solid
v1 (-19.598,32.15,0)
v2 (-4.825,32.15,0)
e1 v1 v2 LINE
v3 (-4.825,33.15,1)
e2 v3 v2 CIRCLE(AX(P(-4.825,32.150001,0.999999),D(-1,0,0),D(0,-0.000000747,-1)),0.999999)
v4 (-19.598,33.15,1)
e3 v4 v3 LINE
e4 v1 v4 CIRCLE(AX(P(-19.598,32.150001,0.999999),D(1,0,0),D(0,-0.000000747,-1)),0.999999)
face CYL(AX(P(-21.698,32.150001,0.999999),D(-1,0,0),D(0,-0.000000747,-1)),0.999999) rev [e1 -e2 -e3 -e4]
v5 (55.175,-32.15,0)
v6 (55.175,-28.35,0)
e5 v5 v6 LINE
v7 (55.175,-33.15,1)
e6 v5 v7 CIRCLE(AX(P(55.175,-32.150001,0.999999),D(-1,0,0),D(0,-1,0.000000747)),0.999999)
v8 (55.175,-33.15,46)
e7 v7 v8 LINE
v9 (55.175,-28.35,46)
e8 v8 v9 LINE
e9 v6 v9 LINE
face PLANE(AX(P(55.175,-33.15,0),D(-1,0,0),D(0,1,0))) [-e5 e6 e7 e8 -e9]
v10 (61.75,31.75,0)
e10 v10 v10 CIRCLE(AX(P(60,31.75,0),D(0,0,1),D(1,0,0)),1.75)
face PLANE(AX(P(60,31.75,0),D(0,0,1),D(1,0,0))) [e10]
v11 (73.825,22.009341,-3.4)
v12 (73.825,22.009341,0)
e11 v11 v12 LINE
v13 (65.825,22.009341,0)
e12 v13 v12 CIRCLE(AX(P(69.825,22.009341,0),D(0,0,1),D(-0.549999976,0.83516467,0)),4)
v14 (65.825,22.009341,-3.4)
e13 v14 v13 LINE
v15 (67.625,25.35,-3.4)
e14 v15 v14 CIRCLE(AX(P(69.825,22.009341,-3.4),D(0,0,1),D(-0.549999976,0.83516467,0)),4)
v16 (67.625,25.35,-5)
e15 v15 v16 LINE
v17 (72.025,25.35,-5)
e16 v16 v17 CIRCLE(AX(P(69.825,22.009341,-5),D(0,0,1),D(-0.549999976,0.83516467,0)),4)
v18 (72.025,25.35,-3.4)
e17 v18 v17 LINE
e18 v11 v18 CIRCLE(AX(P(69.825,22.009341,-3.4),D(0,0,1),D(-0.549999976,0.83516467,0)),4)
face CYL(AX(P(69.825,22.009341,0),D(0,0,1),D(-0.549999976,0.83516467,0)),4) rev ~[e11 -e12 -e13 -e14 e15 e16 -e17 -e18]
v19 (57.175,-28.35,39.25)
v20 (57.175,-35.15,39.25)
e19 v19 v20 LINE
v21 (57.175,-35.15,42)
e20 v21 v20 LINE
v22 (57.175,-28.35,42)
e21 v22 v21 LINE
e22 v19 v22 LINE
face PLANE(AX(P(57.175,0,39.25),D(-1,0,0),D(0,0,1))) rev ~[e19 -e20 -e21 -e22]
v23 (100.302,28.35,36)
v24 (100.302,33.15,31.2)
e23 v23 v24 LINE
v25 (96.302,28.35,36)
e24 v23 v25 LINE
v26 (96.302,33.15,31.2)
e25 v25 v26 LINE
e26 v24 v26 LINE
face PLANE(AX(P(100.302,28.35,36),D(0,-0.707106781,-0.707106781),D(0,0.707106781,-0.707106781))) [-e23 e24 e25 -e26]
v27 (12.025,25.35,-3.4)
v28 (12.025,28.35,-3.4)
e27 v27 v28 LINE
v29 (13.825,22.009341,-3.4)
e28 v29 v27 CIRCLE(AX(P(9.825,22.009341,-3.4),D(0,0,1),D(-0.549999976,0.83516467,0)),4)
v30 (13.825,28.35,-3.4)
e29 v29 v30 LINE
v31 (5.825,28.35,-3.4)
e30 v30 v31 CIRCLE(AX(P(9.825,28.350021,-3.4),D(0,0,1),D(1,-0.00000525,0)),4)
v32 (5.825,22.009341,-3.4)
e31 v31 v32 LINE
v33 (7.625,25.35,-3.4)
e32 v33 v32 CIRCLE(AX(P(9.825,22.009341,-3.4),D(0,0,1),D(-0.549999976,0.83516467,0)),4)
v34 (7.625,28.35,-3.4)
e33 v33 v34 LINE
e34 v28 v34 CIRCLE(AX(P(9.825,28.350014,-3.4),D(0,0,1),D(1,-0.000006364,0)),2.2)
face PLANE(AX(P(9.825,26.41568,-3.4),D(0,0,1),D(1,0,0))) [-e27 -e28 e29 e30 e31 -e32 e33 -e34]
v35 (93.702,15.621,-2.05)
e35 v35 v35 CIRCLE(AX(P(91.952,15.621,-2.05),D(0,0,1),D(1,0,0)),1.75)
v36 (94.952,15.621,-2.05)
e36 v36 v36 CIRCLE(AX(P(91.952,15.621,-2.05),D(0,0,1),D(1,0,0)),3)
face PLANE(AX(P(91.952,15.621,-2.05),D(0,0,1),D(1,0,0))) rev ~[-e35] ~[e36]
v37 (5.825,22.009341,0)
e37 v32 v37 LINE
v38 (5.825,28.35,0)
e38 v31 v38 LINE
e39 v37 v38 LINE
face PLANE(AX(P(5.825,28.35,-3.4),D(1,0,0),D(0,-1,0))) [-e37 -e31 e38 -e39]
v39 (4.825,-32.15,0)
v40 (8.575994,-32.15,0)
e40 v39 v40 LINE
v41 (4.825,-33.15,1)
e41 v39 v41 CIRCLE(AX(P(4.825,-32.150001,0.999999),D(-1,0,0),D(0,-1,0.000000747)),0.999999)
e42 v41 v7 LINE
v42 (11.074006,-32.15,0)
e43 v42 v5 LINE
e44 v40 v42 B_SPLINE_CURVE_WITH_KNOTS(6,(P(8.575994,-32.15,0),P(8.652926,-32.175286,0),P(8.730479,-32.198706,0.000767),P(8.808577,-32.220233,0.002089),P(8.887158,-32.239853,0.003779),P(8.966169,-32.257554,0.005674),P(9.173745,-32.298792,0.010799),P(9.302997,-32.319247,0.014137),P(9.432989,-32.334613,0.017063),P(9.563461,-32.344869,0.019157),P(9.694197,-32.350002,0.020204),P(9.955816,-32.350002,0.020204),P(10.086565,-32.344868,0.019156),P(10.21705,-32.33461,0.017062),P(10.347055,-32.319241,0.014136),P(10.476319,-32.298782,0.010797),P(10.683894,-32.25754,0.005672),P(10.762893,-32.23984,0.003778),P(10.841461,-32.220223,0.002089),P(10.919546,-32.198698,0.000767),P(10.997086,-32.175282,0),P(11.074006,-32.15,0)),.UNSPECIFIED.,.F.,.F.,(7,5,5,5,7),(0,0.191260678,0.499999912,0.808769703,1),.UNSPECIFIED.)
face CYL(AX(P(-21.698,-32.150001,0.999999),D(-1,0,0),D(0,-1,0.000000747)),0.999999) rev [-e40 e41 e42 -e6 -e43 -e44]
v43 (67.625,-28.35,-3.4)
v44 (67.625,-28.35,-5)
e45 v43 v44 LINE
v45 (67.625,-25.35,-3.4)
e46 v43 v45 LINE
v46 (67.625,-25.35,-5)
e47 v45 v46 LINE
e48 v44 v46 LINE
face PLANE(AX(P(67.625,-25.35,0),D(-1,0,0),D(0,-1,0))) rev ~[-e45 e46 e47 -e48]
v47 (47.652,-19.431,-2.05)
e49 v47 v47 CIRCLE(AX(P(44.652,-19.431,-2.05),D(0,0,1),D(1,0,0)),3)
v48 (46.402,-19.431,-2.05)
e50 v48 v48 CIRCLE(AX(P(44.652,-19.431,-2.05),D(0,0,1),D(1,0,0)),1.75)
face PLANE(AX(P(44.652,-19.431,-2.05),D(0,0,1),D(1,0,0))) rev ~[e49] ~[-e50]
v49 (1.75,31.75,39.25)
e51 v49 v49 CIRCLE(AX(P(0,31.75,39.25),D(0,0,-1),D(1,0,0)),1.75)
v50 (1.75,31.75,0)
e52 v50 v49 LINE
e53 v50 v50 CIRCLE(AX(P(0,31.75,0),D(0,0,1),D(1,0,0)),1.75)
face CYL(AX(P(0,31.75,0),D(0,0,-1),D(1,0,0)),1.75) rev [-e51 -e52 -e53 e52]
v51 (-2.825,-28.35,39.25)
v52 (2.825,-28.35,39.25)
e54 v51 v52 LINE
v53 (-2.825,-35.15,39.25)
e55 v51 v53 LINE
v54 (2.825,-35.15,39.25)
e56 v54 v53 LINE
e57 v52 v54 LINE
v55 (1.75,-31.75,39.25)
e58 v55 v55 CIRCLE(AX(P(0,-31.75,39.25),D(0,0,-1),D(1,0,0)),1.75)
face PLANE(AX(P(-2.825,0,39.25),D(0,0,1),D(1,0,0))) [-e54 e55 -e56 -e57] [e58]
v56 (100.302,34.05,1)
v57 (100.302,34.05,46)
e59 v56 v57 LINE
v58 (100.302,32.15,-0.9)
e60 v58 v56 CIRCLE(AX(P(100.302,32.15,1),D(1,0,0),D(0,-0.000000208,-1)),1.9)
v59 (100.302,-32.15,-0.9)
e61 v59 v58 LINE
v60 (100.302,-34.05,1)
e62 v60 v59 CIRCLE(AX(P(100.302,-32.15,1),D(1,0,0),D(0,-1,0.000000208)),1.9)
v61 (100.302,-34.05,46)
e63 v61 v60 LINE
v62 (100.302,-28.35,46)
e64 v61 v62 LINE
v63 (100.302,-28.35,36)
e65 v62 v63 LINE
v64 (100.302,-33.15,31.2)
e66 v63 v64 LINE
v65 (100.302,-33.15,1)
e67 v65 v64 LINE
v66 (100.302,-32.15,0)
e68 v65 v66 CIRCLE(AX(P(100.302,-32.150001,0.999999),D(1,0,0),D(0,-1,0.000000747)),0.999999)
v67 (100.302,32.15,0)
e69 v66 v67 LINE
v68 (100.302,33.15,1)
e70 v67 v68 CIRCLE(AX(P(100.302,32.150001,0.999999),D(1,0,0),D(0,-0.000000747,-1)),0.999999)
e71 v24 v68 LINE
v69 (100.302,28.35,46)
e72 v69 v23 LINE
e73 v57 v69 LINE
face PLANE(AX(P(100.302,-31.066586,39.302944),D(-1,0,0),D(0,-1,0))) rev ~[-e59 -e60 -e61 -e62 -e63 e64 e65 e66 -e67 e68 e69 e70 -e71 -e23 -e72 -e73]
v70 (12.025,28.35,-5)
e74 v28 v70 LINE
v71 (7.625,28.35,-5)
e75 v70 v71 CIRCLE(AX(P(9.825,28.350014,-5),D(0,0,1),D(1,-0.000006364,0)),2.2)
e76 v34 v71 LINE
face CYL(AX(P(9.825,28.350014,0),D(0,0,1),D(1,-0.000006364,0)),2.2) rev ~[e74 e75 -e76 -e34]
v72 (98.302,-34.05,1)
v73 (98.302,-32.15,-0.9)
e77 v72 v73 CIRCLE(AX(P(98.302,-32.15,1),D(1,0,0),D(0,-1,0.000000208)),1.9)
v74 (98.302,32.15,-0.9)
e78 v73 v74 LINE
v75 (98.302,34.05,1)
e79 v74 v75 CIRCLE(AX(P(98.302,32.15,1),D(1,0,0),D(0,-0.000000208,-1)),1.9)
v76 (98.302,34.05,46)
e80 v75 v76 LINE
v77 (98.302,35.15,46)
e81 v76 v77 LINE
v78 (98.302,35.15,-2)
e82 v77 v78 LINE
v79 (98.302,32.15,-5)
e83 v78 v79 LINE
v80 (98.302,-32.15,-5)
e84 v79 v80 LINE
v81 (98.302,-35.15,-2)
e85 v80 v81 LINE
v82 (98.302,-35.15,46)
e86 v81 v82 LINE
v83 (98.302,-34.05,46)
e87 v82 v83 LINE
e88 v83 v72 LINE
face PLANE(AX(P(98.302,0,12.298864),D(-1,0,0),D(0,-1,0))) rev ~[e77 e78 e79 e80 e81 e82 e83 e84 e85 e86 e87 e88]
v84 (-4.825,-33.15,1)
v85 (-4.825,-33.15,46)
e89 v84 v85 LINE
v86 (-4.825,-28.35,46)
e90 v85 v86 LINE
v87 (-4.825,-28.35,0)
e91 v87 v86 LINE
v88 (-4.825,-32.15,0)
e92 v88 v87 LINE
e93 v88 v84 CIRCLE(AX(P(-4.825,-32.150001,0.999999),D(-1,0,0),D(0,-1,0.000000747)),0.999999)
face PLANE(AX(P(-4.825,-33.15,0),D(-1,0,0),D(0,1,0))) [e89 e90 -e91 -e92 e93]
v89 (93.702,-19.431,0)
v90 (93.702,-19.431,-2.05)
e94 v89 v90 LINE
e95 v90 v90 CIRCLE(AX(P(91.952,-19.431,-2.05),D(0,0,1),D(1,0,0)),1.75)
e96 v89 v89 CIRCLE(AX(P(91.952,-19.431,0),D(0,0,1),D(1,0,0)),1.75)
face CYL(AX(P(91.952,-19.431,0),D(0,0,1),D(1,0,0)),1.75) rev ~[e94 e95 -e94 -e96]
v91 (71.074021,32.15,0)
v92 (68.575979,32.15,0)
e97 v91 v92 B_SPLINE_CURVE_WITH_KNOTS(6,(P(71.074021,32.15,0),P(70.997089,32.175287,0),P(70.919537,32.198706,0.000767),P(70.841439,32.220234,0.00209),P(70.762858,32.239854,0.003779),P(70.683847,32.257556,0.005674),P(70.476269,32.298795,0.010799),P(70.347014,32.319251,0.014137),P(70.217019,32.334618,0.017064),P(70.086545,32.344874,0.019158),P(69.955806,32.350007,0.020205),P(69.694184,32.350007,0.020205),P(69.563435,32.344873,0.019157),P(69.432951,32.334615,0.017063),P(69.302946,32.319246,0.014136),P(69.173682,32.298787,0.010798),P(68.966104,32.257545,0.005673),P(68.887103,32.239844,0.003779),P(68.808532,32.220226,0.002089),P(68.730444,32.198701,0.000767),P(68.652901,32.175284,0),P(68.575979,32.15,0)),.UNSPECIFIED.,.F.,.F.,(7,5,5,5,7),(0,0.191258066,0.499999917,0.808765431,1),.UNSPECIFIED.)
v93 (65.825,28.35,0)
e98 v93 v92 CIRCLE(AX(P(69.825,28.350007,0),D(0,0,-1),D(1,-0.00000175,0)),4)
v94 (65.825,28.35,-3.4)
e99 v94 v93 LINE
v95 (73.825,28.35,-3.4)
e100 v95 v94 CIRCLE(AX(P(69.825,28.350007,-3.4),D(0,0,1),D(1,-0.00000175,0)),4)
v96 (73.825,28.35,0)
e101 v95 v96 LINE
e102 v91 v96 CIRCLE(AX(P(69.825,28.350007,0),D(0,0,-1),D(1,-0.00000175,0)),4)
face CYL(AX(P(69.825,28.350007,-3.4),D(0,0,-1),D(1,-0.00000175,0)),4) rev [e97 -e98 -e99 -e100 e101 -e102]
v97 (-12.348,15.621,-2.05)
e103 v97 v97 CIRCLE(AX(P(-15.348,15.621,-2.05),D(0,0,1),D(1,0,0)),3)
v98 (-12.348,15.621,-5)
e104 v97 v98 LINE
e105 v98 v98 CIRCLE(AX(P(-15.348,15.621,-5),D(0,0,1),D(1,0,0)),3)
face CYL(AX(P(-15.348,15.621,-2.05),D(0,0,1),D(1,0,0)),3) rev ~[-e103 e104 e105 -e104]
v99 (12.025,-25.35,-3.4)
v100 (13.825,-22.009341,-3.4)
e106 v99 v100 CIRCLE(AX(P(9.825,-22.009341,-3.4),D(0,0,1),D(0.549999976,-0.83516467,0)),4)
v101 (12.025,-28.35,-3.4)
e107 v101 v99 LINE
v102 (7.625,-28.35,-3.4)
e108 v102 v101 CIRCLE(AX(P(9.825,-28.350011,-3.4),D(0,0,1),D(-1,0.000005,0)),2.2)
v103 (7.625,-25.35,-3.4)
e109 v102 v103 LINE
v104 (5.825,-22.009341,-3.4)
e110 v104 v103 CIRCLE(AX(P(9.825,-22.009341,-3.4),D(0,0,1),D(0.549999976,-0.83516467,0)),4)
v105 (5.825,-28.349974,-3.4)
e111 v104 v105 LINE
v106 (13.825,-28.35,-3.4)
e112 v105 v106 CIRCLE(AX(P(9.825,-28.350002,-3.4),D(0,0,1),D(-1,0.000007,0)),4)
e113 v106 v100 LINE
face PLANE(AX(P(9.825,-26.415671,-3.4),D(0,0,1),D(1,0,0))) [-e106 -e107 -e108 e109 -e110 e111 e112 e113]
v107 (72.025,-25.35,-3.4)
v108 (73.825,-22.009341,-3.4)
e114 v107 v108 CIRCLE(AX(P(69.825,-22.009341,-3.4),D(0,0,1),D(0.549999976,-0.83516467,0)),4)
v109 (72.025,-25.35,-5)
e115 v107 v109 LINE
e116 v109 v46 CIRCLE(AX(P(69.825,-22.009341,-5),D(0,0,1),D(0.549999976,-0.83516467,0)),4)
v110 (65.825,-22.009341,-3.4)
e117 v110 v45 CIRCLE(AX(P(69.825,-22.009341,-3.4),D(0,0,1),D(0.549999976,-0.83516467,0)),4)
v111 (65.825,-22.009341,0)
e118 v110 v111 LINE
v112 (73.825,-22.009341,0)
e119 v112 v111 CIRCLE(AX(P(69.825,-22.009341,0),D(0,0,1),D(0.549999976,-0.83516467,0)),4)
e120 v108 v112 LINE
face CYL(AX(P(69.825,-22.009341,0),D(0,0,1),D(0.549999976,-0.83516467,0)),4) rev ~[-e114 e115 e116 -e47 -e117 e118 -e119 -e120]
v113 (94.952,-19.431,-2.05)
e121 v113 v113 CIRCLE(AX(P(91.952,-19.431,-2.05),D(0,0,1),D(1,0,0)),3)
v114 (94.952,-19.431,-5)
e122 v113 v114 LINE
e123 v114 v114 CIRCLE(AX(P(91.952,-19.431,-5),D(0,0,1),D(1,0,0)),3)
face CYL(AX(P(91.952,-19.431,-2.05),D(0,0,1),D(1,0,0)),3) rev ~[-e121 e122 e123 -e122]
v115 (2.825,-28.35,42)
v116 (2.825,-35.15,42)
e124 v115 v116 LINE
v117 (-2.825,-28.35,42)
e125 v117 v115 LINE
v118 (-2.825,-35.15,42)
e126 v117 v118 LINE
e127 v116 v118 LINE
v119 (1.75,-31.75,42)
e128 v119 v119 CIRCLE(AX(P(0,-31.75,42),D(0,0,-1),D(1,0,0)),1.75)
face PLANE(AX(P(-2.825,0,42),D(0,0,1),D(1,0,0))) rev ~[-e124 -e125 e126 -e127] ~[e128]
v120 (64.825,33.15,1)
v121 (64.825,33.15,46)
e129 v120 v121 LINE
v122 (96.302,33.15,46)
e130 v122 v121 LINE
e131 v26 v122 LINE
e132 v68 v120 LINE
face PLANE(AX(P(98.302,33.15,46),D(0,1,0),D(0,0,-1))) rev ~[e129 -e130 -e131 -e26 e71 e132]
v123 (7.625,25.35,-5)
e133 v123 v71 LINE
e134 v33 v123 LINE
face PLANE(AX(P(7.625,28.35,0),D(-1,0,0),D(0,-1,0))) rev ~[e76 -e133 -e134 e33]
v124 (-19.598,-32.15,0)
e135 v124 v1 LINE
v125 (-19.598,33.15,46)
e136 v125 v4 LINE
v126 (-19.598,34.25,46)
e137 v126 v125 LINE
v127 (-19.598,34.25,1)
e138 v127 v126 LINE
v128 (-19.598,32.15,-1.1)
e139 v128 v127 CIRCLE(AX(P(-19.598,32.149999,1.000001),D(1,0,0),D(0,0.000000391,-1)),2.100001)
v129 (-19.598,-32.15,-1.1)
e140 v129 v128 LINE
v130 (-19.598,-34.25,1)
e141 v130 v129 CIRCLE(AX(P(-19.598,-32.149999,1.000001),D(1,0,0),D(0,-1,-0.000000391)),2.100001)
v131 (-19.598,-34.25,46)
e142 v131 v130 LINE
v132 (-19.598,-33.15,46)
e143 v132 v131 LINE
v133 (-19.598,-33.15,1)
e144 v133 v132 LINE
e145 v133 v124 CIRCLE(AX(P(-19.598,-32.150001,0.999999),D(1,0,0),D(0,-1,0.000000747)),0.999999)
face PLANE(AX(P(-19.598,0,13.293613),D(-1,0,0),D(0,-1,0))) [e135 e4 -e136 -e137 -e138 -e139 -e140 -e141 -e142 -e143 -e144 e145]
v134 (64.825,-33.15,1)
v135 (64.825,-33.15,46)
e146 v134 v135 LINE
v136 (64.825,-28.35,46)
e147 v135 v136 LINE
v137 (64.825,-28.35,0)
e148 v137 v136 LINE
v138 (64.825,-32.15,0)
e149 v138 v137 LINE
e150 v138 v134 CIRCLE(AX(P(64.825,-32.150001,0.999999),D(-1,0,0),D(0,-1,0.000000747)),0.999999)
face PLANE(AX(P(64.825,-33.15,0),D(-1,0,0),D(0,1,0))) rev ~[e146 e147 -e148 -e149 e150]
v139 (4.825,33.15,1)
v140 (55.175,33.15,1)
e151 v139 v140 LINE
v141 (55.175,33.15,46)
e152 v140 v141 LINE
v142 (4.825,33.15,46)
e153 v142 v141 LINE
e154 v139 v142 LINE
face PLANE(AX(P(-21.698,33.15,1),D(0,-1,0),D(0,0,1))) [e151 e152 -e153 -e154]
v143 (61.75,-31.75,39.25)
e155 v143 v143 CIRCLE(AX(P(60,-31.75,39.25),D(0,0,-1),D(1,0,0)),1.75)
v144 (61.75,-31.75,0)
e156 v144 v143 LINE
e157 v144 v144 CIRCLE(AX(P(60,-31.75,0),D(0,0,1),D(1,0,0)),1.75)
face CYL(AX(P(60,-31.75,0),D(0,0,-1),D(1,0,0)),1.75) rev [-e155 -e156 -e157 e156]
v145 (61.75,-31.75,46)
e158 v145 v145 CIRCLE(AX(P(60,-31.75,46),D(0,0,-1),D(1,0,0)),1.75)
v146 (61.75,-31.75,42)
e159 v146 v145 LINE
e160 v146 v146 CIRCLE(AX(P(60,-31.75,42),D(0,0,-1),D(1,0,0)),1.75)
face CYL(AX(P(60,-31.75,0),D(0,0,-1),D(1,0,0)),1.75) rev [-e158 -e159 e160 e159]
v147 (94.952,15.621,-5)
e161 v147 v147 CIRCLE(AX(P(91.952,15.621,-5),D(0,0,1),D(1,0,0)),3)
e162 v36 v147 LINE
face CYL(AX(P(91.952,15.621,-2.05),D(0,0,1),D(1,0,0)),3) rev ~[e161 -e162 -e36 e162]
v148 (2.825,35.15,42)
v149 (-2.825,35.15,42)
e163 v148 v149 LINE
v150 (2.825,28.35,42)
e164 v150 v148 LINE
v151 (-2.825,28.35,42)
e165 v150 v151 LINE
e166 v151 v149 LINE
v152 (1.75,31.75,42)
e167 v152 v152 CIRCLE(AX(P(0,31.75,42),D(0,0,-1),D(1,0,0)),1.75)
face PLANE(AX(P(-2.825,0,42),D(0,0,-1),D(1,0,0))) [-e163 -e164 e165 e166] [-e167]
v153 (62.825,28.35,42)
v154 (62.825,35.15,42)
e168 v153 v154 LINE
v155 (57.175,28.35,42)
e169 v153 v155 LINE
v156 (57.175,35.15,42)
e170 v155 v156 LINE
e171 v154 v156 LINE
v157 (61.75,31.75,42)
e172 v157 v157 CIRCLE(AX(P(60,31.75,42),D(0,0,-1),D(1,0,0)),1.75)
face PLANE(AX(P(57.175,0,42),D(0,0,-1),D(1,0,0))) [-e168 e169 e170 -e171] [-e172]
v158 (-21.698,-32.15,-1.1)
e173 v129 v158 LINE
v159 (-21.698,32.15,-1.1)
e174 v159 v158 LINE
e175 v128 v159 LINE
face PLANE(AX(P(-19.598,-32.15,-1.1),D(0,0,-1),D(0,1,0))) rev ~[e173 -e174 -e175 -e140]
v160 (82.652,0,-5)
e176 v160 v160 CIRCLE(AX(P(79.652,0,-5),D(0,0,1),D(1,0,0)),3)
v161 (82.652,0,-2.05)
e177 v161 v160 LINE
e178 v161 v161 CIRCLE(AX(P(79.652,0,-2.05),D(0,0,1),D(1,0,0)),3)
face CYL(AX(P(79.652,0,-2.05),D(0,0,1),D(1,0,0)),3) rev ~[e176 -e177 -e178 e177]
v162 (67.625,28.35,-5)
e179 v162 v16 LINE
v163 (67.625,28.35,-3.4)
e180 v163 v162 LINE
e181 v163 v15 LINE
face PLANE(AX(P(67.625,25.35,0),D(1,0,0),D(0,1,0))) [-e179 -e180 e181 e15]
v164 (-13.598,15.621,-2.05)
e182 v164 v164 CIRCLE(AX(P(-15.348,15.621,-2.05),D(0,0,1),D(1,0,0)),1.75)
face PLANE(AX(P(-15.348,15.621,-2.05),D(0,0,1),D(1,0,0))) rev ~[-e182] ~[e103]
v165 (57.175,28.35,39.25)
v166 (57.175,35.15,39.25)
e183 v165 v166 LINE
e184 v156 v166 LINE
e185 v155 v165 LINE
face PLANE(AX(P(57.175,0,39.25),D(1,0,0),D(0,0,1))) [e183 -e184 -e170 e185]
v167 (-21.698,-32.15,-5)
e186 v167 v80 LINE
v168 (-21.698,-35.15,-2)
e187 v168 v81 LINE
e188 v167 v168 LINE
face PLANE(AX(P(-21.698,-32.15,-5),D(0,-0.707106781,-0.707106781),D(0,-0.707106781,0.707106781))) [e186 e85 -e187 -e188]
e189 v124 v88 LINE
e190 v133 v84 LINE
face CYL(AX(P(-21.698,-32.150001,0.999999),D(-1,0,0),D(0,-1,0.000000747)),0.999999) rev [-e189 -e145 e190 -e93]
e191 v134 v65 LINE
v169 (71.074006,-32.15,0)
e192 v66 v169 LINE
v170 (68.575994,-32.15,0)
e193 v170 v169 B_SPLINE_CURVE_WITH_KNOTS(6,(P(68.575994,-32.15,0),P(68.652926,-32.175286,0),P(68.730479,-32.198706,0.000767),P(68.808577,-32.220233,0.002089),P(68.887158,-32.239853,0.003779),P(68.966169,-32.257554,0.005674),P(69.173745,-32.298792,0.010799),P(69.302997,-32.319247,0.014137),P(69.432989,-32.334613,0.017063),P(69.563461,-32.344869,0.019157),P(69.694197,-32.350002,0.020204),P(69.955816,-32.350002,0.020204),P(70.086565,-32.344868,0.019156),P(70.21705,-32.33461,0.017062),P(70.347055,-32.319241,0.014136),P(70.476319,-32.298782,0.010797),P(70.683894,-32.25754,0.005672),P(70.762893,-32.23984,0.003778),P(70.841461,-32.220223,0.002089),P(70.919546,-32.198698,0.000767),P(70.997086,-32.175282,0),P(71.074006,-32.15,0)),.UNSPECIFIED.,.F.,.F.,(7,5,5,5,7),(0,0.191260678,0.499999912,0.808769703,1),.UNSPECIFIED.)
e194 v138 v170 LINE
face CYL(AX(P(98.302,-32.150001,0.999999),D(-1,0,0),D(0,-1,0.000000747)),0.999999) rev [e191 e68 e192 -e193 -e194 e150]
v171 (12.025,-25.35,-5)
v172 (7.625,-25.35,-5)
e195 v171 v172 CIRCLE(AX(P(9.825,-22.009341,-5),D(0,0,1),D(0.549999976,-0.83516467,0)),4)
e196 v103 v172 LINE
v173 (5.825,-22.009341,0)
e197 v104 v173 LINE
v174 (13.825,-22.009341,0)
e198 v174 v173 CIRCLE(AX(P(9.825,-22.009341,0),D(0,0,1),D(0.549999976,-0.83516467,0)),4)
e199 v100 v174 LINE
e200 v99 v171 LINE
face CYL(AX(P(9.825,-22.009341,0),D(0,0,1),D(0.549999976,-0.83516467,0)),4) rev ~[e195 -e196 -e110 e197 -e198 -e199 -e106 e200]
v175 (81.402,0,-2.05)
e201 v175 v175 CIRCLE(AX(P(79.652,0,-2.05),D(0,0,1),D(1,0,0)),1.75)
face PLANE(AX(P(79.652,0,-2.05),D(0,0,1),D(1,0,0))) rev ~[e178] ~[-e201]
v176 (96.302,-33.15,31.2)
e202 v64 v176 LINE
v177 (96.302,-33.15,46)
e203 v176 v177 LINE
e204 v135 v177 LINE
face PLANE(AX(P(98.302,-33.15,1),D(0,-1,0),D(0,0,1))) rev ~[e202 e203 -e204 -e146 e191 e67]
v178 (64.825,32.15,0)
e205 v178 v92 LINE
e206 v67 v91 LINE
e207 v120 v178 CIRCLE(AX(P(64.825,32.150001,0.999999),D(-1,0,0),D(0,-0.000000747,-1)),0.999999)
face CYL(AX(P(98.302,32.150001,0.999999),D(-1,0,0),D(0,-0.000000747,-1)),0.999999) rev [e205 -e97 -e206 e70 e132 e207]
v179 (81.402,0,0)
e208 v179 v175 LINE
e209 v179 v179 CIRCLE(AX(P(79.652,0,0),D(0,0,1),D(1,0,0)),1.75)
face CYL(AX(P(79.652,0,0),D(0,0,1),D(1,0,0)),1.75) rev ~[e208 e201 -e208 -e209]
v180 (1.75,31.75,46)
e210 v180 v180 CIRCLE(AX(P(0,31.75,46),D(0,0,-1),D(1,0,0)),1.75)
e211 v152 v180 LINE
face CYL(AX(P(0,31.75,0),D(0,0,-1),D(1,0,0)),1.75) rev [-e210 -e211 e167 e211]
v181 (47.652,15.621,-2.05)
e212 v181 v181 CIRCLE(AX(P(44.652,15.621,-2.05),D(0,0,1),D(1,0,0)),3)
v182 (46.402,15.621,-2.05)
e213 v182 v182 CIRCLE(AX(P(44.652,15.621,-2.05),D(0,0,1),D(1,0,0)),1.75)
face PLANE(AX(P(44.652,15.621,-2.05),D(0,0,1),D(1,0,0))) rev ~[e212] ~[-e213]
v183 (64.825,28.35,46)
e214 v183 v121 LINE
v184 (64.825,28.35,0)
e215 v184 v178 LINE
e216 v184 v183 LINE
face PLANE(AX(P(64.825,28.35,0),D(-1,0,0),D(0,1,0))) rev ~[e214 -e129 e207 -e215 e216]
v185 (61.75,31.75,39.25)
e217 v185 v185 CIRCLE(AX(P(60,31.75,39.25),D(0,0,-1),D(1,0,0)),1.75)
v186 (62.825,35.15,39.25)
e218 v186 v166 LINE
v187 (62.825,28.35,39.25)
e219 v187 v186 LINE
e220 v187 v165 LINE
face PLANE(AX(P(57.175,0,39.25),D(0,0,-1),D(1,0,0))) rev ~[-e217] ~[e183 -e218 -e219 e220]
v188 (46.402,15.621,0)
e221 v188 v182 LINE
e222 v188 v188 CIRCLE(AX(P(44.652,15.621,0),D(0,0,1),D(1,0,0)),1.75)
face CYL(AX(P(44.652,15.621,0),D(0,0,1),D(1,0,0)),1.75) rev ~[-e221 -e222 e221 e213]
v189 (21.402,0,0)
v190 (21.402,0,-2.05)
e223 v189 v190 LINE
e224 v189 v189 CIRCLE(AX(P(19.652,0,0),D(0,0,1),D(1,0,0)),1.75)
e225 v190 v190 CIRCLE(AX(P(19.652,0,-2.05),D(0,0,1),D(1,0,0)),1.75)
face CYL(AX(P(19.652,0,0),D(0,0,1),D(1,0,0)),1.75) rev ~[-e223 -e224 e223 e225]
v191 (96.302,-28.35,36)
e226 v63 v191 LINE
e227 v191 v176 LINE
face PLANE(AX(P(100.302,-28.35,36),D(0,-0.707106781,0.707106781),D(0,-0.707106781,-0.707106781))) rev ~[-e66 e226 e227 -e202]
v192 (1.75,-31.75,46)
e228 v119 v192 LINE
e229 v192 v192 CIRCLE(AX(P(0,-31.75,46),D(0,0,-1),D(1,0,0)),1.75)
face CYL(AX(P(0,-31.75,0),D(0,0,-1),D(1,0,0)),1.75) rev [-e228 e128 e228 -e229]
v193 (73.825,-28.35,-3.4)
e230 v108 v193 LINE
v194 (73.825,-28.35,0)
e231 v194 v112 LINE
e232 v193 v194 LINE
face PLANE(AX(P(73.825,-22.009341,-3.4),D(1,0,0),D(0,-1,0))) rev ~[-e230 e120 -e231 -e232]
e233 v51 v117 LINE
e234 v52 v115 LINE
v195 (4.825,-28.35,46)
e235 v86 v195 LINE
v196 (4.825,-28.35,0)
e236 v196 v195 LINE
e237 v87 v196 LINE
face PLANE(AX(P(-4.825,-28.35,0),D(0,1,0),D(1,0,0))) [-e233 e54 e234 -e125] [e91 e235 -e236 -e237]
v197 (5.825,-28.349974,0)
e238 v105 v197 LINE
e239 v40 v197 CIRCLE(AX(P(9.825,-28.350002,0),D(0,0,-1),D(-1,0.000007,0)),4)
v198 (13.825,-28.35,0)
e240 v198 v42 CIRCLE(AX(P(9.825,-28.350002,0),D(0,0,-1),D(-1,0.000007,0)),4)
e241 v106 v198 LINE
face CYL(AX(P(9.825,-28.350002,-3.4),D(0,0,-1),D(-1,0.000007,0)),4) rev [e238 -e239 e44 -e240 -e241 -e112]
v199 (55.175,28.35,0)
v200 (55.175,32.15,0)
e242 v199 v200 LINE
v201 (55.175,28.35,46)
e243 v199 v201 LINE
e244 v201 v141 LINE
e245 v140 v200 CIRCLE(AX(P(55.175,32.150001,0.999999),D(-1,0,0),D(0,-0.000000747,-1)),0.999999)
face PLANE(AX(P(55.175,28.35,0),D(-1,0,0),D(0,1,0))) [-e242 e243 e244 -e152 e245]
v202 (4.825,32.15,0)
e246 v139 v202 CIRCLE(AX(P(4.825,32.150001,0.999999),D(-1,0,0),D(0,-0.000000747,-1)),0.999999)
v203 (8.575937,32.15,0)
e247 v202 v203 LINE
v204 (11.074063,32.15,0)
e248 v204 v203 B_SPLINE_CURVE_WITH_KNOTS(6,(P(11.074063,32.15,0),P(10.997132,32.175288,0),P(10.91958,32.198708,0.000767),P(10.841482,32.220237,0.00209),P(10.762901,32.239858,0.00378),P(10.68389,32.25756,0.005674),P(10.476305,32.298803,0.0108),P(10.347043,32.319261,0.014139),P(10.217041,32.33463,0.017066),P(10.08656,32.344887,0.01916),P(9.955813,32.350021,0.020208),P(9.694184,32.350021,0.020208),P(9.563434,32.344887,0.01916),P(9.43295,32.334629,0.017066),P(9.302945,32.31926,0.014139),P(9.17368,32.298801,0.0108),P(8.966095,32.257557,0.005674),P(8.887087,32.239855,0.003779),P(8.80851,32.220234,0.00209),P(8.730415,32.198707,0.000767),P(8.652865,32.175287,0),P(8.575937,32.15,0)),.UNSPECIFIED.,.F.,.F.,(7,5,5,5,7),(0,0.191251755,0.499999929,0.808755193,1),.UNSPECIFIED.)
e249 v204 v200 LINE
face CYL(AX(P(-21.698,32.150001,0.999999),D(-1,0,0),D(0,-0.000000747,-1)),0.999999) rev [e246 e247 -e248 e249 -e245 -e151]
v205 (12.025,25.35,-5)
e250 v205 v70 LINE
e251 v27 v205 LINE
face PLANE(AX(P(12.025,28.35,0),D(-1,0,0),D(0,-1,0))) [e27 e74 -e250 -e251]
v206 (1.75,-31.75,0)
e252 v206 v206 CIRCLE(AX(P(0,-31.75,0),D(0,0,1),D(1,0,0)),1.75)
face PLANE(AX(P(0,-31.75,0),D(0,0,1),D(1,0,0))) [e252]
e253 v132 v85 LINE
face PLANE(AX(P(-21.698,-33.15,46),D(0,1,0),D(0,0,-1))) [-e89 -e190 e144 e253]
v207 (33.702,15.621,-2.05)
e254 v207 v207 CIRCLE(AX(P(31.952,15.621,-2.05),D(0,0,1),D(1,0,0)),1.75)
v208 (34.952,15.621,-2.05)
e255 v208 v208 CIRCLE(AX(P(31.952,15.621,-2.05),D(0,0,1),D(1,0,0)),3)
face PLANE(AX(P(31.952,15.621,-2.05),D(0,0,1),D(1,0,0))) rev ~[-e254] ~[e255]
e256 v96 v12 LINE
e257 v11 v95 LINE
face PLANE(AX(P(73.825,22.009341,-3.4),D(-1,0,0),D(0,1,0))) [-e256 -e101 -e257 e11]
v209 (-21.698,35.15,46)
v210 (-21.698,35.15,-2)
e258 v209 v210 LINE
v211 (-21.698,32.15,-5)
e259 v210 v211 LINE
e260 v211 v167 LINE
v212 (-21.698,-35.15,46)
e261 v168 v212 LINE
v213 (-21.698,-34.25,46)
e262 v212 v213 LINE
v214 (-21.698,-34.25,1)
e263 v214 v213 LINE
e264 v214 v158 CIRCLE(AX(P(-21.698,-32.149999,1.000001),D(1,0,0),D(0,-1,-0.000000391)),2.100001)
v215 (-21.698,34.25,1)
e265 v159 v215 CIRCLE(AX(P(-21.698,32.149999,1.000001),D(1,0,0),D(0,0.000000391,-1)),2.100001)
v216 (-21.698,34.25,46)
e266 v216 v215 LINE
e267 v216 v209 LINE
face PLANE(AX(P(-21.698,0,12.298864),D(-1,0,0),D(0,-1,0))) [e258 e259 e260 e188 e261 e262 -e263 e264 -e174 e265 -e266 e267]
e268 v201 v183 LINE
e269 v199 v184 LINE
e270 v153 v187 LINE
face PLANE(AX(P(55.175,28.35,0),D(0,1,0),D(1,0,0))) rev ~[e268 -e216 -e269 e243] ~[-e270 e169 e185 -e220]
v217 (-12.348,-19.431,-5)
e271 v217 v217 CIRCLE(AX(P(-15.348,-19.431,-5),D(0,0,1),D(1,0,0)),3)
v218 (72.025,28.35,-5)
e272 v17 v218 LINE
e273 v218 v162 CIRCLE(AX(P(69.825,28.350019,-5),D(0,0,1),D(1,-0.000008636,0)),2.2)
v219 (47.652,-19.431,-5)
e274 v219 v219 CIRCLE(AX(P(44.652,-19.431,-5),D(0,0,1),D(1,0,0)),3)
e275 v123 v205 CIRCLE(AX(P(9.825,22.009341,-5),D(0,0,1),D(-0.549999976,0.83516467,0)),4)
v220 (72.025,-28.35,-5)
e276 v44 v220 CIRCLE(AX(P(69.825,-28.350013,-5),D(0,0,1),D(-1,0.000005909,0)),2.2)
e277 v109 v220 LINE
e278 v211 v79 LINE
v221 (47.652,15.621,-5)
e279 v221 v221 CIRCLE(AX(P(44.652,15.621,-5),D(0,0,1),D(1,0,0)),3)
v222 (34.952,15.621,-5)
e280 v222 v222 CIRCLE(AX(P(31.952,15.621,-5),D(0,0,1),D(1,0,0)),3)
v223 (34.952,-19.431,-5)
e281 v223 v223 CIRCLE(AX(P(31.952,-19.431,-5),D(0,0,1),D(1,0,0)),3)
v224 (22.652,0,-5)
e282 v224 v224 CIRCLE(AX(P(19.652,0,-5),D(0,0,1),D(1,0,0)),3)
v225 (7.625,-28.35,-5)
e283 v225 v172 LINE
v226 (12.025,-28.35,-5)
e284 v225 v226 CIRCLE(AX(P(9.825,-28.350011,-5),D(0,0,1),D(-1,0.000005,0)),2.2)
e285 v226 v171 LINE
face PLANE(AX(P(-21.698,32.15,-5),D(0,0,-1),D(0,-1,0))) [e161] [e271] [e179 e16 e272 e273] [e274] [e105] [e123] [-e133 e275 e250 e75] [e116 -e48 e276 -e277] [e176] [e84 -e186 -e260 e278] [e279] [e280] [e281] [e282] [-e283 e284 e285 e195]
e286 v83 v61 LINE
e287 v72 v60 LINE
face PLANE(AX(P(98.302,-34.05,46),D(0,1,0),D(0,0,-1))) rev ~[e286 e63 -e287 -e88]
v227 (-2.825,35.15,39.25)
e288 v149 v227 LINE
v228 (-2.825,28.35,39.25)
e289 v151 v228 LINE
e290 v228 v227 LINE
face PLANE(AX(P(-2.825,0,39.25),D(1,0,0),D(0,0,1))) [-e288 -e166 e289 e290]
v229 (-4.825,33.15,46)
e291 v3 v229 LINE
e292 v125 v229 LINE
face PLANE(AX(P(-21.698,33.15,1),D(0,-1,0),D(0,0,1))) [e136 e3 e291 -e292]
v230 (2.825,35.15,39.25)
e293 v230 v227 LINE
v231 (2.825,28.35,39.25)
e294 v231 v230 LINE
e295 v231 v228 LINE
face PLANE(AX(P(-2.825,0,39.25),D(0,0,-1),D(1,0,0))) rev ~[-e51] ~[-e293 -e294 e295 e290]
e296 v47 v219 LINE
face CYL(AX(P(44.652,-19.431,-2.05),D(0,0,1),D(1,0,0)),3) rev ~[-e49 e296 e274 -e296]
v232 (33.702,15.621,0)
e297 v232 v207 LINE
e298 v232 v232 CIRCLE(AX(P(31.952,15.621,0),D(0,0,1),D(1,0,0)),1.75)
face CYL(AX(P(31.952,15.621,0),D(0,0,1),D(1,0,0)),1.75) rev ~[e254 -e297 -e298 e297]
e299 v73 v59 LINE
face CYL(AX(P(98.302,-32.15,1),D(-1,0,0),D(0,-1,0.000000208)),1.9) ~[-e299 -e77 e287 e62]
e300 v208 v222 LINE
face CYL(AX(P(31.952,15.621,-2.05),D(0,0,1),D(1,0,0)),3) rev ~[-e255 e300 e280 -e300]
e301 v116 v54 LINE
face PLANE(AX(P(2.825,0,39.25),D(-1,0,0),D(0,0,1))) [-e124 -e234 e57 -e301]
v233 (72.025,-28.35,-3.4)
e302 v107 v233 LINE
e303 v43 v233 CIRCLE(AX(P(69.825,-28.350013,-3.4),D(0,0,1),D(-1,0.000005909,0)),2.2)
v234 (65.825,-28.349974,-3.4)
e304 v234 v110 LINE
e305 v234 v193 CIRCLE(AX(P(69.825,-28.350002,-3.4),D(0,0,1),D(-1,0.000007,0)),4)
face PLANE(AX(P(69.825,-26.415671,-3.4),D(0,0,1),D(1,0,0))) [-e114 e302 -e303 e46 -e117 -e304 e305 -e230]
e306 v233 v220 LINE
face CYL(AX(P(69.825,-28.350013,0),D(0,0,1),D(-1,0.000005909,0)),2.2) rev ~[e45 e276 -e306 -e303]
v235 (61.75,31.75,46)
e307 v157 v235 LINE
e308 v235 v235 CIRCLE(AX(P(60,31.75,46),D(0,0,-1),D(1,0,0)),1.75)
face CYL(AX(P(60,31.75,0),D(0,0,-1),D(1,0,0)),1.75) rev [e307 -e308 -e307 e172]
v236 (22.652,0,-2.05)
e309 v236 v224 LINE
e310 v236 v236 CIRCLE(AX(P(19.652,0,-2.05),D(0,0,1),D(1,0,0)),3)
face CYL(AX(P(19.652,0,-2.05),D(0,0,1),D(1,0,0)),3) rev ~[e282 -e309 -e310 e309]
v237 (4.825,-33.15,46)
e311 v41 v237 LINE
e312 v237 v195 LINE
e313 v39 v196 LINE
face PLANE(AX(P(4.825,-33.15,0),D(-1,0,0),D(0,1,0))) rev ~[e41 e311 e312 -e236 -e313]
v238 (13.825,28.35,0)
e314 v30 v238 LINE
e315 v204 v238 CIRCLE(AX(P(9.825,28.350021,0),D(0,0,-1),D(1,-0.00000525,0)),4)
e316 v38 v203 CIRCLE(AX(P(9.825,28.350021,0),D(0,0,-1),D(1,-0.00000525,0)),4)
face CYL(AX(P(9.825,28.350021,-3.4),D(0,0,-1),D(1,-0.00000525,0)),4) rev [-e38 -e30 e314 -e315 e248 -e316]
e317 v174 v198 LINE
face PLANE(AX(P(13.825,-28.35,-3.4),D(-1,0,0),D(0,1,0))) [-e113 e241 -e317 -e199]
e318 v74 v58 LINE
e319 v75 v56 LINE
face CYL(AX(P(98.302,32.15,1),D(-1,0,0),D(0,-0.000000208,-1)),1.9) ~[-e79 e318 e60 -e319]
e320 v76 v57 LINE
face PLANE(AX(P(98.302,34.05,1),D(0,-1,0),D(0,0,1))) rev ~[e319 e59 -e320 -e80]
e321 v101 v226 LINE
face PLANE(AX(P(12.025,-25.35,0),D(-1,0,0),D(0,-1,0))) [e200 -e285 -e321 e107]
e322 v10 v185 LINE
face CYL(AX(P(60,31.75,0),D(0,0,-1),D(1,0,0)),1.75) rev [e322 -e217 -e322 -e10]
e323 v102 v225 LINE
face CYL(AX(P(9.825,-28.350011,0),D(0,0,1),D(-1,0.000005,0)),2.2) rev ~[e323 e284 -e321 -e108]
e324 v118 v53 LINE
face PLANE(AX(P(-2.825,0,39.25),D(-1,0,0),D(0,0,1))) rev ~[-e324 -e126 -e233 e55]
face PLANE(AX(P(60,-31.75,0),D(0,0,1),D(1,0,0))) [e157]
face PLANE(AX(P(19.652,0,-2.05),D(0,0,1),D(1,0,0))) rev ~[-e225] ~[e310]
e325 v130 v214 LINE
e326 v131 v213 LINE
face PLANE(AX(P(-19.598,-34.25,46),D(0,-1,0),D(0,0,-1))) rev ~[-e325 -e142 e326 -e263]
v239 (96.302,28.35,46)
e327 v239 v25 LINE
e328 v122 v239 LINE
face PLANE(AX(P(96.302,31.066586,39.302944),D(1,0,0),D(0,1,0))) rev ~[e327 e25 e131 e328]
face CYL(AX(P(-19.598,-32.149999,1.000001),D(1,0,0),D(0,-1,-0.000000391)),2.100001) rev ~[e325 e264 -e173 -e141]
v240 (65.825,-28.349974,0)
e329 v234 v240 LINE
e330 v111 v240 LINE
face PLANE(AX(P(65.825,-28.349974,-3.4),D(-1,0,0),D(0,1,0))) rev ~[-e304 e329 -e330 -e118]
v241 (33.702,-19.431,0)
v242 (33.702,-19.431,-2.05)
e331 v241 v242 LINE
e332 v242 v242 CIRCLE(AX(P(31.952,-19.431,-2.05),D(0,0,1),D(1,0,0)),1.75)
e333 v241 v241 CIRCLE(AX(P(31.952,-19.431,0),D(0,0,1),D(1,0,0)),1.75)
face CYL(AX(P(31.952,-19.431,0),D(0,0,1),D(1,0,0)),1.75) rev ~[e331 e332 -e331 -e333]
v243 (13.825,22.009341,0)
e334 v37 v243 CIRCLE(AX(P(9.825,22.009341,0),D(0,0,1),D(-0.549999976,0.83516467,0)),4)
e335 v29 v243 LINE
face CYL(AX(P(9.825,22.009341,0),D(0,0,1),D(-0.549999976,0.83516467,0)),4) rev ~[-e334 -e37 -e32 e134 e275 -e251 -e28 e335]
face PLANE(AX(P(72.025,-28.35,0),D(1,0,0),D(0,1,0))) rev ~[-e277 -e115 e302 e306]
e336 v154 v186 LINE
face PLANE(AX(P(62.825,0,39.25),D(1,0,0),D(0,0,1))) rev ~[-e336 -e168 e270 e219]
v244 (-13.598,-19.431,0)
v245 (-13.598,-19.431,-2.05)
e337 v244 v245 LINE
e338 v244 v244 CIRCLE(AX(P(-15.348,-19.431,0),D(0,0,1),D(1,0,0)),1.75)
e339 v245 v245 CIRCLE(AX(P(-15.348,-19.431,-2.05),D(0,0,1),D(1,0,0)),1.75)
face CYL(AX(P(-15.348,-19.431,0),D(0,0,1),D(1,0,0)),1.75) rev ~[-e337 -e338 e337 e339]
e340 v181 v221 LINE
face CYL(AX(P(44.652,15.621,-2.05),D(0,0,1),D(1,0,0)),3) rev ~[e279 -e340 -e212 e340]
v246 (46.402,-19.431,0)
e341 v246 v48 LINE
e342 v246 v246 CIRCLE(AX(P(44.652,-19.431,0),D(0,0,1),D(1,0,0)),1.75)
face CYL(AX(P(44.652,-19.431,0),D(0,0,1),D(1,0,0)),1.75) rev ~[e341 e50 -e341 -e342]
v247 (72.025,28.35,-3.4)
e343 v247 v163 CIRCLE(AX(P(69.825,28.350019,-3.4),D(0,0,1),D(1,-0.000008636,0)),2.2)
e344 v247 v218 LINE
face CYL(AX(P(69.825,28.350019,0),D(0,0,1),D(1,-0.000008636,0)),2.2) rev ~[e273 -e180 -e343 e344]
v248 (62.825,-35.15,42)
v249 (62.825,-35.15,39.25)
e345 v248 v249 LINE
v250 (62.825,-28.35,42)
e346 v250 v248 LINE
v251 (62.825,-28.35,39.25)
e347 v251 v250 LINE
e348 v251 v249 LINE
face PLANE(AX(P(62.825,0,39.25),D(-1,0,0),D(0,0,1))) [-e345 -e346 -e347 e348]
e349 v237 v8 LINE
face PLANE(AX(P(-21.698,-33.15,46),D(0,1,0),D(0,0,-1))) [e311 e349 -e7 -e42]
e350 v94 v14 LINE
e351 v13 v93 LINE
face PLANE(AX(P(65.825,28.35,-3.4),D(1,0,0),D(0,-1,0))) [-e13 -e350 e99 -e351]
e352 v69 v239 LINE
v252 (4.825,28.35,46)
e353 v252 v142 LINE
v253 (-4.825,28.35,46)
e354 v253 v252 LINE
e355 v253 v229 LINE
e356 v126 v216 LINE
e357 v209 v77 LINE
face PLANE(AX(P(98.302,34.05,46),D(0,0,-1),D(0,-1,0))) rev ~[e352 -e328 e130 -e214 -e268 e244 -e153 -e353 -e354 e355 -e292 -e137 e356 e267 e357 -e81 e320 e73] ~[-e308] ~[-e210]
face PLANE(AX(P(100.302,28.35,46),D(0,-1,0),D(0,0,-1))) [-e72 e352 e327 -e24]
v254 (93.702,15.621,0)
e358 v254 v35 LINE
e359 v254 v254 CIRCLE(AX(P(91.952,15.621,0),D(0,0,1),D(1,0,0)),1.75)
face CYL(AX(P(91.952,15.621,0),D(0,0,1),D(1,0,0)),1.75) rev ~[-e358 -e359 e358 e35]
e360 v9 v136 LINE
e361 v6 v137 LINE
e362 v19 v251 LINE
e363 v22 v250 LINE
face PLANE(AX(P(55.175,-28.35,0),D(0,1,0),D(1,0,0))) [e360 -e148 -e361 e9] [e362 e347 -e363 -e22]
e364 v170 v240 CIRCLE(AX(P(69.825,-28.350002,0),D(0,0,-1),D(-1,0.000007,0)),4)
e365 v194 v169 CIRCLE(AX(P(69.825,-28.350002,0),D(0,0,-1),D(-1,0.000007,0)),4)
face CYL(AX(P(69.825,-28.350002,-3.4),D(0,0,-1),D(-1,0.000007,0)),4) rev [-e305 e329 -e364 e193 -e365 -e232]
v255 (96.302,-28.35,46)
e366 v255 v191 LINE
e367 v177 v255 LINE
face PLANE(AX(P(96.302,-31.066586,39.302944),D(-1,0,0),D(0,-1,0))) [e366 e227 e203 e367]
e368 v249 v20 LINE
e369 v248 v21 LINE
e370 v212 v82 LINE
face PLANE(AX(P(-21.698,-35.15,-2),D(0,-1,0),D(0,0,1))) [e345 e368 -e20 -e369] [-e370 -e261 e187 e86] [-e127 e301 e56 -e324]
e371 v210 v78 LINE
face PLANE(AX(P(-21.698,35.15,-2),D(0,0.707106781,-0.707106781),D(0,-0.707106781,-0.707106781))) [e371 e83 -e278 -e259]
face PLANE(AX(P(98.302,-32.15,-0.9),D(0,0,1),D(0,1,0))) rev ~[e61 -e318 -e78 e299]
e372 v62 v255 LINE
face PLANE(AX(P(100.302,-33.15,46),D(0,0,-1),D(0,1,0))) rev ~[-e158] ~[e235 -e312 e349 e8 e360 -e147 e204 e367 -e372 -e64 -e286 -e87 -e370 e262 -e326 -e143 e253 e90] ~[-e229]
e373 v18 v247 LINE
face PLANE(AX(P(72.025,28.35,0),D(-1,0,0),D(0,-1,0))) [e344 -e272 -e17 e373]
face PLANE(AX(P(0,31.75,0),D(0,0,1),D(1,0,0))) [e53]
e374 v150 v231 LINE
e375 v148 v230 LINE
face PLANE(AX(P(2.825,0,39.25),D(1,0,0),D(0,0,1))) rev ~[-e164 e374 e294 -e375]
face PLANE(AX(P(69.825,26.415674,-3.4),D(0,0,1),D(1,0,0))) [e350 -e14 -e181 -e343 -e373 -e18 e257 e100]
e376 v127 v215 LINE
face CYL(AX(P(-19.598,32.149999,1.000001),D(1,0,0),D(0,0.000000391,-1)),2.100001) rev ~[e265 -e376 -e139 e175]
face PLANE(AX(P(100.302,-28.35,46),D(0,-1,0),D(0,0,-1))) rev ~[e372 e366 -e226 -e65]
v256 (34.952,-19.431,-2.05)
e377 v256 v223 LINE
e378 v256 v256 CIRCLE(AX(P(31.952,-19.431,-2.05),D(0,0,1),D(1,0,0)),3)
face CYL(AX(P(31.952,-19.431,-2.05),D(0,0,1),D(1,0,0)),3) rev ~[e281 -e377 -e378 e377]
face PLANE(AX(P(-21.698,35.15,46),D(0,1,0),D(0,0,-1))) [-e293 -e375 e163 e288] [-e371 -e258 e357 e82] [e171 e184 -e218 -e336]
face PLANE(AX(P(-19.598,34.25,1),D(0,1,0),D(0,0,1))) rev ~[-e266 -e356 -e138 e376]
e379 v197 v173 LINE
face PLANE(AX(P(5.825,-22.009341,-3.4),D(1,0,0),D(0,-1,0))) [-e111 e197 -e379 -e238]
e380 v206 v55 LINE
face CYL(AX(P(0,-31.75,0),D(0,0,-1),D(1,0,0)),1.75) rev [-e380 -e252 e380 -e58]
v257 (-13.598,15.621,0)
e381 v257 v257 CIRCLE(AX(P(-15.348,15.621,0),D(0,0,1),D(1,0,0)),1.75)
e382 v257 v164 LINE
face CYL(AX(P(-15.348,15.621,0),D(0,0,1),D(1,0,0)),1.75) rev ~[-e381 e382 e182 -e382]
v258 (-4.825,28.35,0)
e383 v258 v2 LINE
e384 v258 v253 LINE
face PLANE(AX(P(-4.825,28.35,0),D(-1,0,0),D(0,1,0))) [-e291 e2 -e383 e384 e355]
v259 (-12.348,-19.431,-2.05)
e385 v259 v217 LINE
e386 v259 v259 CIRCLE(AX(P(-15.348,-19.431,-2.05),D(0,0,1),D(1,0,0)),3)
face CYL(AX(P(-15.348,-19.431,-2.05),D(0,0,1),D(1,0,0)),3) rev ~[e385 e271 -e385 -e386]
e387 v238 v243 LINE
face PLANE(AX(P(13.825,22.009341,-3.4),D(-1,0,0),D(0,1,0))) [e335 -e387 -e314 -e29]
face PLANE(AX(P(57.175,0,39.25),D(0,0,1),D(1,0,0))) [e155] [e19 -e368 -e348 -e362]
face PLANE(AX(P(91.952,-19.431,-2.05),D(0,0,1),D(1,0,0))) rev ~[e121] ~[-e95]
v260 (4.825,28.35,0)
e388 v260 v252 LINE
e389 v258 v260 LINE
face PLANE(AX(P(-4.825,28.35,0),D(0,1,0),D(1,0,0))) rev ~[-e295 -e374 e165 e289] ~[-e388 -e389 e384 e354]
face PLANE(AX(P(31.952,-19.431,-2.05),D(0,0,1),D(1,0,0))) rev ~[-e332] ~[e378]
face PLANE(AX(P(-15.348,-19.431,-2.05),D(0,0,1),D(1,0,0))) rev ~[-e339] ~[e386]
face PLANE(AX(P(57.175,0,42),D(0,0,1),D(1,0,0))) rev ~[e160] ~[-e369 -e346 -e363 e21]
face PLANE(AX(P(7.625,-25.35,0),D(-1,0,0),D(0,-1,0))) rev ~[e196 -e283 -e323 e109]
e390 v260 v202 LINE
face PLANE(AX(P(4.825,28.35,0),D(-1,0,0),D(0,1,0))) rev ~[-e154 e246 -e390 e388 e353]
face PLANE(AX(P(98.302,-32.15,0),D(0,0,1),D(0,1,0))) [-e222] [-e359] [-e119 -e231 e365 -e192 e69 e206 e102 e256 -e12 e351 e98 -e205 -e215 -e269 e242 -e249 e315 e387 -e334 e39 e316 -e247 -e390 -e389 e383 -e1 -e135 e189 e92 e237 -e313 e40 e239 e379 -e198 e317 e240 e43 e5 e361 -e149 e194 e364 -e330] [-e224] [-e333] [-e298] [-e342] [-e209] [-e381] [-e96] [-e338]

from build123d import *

# Parameters (mm, degrees)
PAD025_DEPTH         = 120
POCKET029_DEPTH      = 2.101
SKETCH085_W          = 9.65
SKETCH085_H          = 4.8
PAD026_DEPTH         = 46
SKETCH086_R          = 1.75
POCKET030_DEPTH      = 46.001
SKETCH087_R          = 1.75
POCKET031_DEPTH      = 5.001
SKETCH088_R          = 3
POCKET032_DEPTH      = 2.951
POCKET043_DEPTH      = 49.401
SKETCH089_W          = 5.65
SKETCH089_H          = 2.75
POCKET033_DEPTH      = 35.151
POCKET033_DEPTH_BACK = 35.151
PAD027_DEPTH         = 2
PAD028_DEPTH         = 4


with BuildPart() as part:
    # Sketch083 → Pad025 (new body)
    with BuildSketch(Plane.YZ.offset(-21.698)):
        with BuildLine():
            ThreePointArc((-33.15, 1), (-32.857107, 0.292893), (-32.15, 0))
            Line((-32.15, 0), (32.15, 0))
            ThreePointArc((32.15, 0), (32.857107, 0.292893), (33.15, 1))
            Line((33.15, 1), (33.15, 46))
            Line((33.15, 46), (35.15, 46))
            Line((35.15, 46), (35.15, -2))
            Line((35.15, -2), (32.15, -5))
            Line((32.15, -5), (-32.15, -5))
            Line((-32.15, -5), (-35.15, -2))
            Line((-35.15, -2), (-35.15, 46))
            Line((-35.15, 46), (-33.15, 46))
            Line((-33.15, 46), (-33.15, 1))
        make_face()
    extrude(amount=PAD025_DEPTH)

    # Sketch084 → Pocket029 (cut, through all)
    with BuildSketch(Plane.YZ.offset(-19.598)):
        with BuildLine():
            ThreePointArc((-33.15, 1), (-32.857107, 0.292893), (-32.15, 0))
            Line((-32.15, 0), (32.15, 0))
            ThreePointArc((32.15, 0), (32.857107, 0.292893), (33.15, 1))
            Line((33.15, 46), (33.15, 1))
            Line((34.25, 46), (33.15, 46))
            Line((34.25, 1), (34.25, 46))
            ThreePointArc((32.15, -1.1), (33.634924, -0.484924), (34.25, 1))
            Line((-32.15, -1.1), (32.15, -1.1))
            ThreePointArc((-34.25, 1), (-33.634924, -0.484924), (-32.15, -1.1))
            Line((-34.25, 46), (-34.25, 1))
            Line((-33.15, 46), (-34.25, 46))
            Line((-33.15, 1), (-33.15, 46))
        make_face()
    extrude(amount=-POCKET029_DEPTH, mode=Mode.SUBTRACT)

    # Sketch085 → Pad026 (join)
    with BuildSketch(Plane.XY):
        with Locations((0, 30.75)):
            Rectangle(SKETCH085_W, SKETCH085_H)
        with Locations((60, 30.75)):
            Rectangle(SKETCH085_W, SKETCH085_H)
        with Locations((60, -30.75)):
            Rectangle(SKETCH085_W, SKETCH085_H)
        with Locations((0, -30.75)):
            Rectangle(SKETCH085_W, SKETCH085_H)
    extrude(amount=PAD026_DEPTH)

    # Sketch086 → Pocket030 (cut, through all)
    with BuildSketch(Plane.XY):
        with Locations((0, 31.75)):
            Circle(SKETCH086_R)
        with Locations((60, 31.75)):
            Circle(SKETCH086_R)
        with Locations((60, -31.75)):
            Circle(SKETCH086_R)
        with Locations((0, -31.75)):
            Circle(SKETCH086_R)
    extrude(amount=POCKET030_DEPTH, mode=Mode.SUBTRACT)

    # Sketch087 → Pocket031 (cut, through all)
    with BuildSketch(Plane.XY):
        with Locations((-15.348, 15.621)):
            Circle(SKETCH087_R)
        with Locations((-15.348, -19.431)):
            Circle(SKETCH087_R)
        with Locations((19.652, 0)):
            Circle(SKETCH087_R)
        with Locations((31.952, 15.621)):
            Circle(SKETCH087_R)
        with Locations((31.952, -19.431)):
            Circle(SKETCH087_R)
        with Locations((44.652, -19.431)):
            Circle(SKETCH087_R)
        with Locations((44.652, 15.621)):
            Circle(SKETCH087_R)
        with Locations((79.652, 0)):
            Circle(SKETCH087_R)
        with Locations((91.952, 15.621)):
            Circle(SKETCH087_R)
        with Locations((91.952, -19.431)):
            Circle(SKETCH087_R)
        with BuildLine():
            ThreePointArc((12.025, 28.35), (9.825, 30.550014), (7.625, 28.35))
            Line((7.625, 28.35), (7.625, 25.35))
            ThreePointArc((7.625, 25.35), (9.825, 18.009341), (12.025, 25.35))
            Line((12.025, 28.35), (12.025, 25.35))
        make_face()
        with BuildLine():
            ThreePointArc((12.025, -25.35), (9.825, -18.009341), (7.625, -25.35))
            Line((7.625, -25.35), (7.625, -28.35))
            ThreePointArc((7.625, -28.35), (9.825, -30.550011), (12.025, -28.35))
            Line((12.025, -25.35), (12.025, -28.35))
        make_face()
        with BuildLine():
            ThreePointArc((72.025, -25.35), (69.825, -18.009341), (67.625, -25.35))
            Line((67.625, -25.35), (67.625, -28.35))
            ThreePointArc((67.625, -28.35), (69.825, -30.550013), (72.025, -28.35))
            Line((72.025, -28.35), (72.025, -25.35))
        make_face()
        with BuildLine():
            ThreePointArc((72.025, 28.35), (69.825, 30.550019), (67.625, 28.35))
            Line((67.625, 25.35), (67.625, 28.35))
            ThreePointArc((67.625, 25.35), (69.825, 18.009341), (72.025, 25.35))
            Line((72.025, 28.35), (72.025, 25.35))
        make_face()
    extrude(amount=-POCKET031_DEPTH, mode=Mode.SUBTRACT)

    # Sketch088 → Pocket032 (cut, through all)
    with BuildSketch(Plane.XY.offset(-2.05)):
        with Locations((-15.348, 15.621)):
            Circle(SKETCH088_R)
        with Locations((-15.348, -19.431)):
            Circle(SKETCH088_R)
        with Locations((19.652, 0)):
            Circle(SKETCH088_R)
        with Locations((31.952, 15.621)):
            Circle(SKETCH088_R)
        with Locations((44.652, 15.621)):
            Circle(SKETCH088_R)
        with Locations((31.952, -19.431)):
            Circle(SKETCH088_R)
        with Locations((44.652, -19.431)):
            Circle(SKETCH088_R)
        with Locations((79.652, 0)):
            Circle(SKETCH088_R)
        with Locations((91.952, 15.621)):
            Circle(SKETCH088_R)
        with Locations((91.952, -19.431)):
            Circle(SKETCH088_R)
    extrude(amount=-POCKET032_DEPTH, mode=Mode.SUBTRACT)

    # Sketch111 → Pocket043 (cut, through all)
    with BuildSketch(Plane.XY.offset(-3.4)):
        with BuildLine():
            ThreePointArc((13.825, 28.35), (9.825, 32.350021), (5.825, 28.35))
            Line((5.825, 28.35), (5.825, 22.009341))
            Line((5.825, 22.009341), (13.825, 22.009341))
            Line((13.825, 22.009341), (13.825, 28.35))
        make_face()
        with BuildLine():
            ThreePointArc((73.825, 28.35), (69.825, 32.350007), (65.825, 28.35))
            Line((65.825, 28.35), (65.825, 22.009341))
            Line((65.825, 22.009341), (73.825, 22.009341))
            Line((73.825, 22.009341), (73.825, 28.35))
        make_face()
        with BuildLine():
            ThreePointArc((65.825, -28.349974), (69.824987, -32.350002), (73.825, -28.35))
            Line((73.825, -22.009341), (73.825, -28.35))
            Line((65.825, -22.009341), (73.825, -22.009341))
            Line((65.825, -28.349974), (65.825, -22.009341))
        make_face()
        with BuildLine():
            ThreePointArc((5.825, -28.349974), (9.824987, -32.350002), (13.825, -28.35))
            Line((13.825, -28.35), (13.825, -22.009341))
            Line((13.825, -22.009341), (5.825, -22.009341))
            Line((5.825, -22.009341), (5.825, -28.349974))
        make_face()
    extrude(amount=POCKET043_DEPTH, mode=Mode.SUBTRACT)

    # Sketch089 → Pocket033 (cut, two sides)
    with BuildSketch(Plane.XZ) as pocket033_sk:
        with Locations((0, 40.625)):
            Rectangle(SKETCH089_W, SKETCH089_H)
        with Locations((60, 40.625)):
            Rectangle(SKETCH089_W, SKETCH089_H)
    extrude(amount=-POCKET033_DEPTH, mode=Mode.SUBTRACT)
    extrude(pocket033_sk.sketch, amount=POCKET033_DEPTH_BACK, mode=Mode.SUBTRACT)

    # Sketch090 → Pad027 (join)
    with BuildSketch(Plane.YZ.offset(98.302)):
        with BuildLine():
            ThreePointArc((-33.15, 1), (-32.857107, 0.292893), (-32.15, 0))
            Line((-32.15, 0), (32.15, 0))
            ThreePointArc((32.15, 0), (32.857107, 0.292893), (33.15, 1))
            Line((33.15, 46), (33.15, 1))
            Line((34.05, 46), (33.15, 46))
            Line((34.05, 1), (34.05, 46))
            ThreePointArc((32.15, -0.9), (33.493503, -0.343503), (34.05, 1))
            Line((-32.15, -0.9), (32.15, -0.9))
            ThreePointArc((-34.05, 1), (-33.493503, -0.343503), (-32.15, -0.9))
            Line((-34.05, 46), (-34.05, 1))
            Line((-33.15, 46), (-34.05, 46))
            Line((-33.15, 1), (-33.15, 46))
        make_face()
    extrude(amount=PAD027_DEPTH)

    # Sketch091 → Pad028 (join)
    with BuildSketch(Plane.YZ.offset(100.302)):
        Polygon((-33.15, 46), (-28.35, 46), (-28.35, 36), (-33.15, 31.2), align=None)
        Polygon((33.15, 46), (28.35, 46), (28.35, 36), (33.15, 31.2), align=None)
    extrude(amount=-PAD028_DEPTH)


solid = part.part
